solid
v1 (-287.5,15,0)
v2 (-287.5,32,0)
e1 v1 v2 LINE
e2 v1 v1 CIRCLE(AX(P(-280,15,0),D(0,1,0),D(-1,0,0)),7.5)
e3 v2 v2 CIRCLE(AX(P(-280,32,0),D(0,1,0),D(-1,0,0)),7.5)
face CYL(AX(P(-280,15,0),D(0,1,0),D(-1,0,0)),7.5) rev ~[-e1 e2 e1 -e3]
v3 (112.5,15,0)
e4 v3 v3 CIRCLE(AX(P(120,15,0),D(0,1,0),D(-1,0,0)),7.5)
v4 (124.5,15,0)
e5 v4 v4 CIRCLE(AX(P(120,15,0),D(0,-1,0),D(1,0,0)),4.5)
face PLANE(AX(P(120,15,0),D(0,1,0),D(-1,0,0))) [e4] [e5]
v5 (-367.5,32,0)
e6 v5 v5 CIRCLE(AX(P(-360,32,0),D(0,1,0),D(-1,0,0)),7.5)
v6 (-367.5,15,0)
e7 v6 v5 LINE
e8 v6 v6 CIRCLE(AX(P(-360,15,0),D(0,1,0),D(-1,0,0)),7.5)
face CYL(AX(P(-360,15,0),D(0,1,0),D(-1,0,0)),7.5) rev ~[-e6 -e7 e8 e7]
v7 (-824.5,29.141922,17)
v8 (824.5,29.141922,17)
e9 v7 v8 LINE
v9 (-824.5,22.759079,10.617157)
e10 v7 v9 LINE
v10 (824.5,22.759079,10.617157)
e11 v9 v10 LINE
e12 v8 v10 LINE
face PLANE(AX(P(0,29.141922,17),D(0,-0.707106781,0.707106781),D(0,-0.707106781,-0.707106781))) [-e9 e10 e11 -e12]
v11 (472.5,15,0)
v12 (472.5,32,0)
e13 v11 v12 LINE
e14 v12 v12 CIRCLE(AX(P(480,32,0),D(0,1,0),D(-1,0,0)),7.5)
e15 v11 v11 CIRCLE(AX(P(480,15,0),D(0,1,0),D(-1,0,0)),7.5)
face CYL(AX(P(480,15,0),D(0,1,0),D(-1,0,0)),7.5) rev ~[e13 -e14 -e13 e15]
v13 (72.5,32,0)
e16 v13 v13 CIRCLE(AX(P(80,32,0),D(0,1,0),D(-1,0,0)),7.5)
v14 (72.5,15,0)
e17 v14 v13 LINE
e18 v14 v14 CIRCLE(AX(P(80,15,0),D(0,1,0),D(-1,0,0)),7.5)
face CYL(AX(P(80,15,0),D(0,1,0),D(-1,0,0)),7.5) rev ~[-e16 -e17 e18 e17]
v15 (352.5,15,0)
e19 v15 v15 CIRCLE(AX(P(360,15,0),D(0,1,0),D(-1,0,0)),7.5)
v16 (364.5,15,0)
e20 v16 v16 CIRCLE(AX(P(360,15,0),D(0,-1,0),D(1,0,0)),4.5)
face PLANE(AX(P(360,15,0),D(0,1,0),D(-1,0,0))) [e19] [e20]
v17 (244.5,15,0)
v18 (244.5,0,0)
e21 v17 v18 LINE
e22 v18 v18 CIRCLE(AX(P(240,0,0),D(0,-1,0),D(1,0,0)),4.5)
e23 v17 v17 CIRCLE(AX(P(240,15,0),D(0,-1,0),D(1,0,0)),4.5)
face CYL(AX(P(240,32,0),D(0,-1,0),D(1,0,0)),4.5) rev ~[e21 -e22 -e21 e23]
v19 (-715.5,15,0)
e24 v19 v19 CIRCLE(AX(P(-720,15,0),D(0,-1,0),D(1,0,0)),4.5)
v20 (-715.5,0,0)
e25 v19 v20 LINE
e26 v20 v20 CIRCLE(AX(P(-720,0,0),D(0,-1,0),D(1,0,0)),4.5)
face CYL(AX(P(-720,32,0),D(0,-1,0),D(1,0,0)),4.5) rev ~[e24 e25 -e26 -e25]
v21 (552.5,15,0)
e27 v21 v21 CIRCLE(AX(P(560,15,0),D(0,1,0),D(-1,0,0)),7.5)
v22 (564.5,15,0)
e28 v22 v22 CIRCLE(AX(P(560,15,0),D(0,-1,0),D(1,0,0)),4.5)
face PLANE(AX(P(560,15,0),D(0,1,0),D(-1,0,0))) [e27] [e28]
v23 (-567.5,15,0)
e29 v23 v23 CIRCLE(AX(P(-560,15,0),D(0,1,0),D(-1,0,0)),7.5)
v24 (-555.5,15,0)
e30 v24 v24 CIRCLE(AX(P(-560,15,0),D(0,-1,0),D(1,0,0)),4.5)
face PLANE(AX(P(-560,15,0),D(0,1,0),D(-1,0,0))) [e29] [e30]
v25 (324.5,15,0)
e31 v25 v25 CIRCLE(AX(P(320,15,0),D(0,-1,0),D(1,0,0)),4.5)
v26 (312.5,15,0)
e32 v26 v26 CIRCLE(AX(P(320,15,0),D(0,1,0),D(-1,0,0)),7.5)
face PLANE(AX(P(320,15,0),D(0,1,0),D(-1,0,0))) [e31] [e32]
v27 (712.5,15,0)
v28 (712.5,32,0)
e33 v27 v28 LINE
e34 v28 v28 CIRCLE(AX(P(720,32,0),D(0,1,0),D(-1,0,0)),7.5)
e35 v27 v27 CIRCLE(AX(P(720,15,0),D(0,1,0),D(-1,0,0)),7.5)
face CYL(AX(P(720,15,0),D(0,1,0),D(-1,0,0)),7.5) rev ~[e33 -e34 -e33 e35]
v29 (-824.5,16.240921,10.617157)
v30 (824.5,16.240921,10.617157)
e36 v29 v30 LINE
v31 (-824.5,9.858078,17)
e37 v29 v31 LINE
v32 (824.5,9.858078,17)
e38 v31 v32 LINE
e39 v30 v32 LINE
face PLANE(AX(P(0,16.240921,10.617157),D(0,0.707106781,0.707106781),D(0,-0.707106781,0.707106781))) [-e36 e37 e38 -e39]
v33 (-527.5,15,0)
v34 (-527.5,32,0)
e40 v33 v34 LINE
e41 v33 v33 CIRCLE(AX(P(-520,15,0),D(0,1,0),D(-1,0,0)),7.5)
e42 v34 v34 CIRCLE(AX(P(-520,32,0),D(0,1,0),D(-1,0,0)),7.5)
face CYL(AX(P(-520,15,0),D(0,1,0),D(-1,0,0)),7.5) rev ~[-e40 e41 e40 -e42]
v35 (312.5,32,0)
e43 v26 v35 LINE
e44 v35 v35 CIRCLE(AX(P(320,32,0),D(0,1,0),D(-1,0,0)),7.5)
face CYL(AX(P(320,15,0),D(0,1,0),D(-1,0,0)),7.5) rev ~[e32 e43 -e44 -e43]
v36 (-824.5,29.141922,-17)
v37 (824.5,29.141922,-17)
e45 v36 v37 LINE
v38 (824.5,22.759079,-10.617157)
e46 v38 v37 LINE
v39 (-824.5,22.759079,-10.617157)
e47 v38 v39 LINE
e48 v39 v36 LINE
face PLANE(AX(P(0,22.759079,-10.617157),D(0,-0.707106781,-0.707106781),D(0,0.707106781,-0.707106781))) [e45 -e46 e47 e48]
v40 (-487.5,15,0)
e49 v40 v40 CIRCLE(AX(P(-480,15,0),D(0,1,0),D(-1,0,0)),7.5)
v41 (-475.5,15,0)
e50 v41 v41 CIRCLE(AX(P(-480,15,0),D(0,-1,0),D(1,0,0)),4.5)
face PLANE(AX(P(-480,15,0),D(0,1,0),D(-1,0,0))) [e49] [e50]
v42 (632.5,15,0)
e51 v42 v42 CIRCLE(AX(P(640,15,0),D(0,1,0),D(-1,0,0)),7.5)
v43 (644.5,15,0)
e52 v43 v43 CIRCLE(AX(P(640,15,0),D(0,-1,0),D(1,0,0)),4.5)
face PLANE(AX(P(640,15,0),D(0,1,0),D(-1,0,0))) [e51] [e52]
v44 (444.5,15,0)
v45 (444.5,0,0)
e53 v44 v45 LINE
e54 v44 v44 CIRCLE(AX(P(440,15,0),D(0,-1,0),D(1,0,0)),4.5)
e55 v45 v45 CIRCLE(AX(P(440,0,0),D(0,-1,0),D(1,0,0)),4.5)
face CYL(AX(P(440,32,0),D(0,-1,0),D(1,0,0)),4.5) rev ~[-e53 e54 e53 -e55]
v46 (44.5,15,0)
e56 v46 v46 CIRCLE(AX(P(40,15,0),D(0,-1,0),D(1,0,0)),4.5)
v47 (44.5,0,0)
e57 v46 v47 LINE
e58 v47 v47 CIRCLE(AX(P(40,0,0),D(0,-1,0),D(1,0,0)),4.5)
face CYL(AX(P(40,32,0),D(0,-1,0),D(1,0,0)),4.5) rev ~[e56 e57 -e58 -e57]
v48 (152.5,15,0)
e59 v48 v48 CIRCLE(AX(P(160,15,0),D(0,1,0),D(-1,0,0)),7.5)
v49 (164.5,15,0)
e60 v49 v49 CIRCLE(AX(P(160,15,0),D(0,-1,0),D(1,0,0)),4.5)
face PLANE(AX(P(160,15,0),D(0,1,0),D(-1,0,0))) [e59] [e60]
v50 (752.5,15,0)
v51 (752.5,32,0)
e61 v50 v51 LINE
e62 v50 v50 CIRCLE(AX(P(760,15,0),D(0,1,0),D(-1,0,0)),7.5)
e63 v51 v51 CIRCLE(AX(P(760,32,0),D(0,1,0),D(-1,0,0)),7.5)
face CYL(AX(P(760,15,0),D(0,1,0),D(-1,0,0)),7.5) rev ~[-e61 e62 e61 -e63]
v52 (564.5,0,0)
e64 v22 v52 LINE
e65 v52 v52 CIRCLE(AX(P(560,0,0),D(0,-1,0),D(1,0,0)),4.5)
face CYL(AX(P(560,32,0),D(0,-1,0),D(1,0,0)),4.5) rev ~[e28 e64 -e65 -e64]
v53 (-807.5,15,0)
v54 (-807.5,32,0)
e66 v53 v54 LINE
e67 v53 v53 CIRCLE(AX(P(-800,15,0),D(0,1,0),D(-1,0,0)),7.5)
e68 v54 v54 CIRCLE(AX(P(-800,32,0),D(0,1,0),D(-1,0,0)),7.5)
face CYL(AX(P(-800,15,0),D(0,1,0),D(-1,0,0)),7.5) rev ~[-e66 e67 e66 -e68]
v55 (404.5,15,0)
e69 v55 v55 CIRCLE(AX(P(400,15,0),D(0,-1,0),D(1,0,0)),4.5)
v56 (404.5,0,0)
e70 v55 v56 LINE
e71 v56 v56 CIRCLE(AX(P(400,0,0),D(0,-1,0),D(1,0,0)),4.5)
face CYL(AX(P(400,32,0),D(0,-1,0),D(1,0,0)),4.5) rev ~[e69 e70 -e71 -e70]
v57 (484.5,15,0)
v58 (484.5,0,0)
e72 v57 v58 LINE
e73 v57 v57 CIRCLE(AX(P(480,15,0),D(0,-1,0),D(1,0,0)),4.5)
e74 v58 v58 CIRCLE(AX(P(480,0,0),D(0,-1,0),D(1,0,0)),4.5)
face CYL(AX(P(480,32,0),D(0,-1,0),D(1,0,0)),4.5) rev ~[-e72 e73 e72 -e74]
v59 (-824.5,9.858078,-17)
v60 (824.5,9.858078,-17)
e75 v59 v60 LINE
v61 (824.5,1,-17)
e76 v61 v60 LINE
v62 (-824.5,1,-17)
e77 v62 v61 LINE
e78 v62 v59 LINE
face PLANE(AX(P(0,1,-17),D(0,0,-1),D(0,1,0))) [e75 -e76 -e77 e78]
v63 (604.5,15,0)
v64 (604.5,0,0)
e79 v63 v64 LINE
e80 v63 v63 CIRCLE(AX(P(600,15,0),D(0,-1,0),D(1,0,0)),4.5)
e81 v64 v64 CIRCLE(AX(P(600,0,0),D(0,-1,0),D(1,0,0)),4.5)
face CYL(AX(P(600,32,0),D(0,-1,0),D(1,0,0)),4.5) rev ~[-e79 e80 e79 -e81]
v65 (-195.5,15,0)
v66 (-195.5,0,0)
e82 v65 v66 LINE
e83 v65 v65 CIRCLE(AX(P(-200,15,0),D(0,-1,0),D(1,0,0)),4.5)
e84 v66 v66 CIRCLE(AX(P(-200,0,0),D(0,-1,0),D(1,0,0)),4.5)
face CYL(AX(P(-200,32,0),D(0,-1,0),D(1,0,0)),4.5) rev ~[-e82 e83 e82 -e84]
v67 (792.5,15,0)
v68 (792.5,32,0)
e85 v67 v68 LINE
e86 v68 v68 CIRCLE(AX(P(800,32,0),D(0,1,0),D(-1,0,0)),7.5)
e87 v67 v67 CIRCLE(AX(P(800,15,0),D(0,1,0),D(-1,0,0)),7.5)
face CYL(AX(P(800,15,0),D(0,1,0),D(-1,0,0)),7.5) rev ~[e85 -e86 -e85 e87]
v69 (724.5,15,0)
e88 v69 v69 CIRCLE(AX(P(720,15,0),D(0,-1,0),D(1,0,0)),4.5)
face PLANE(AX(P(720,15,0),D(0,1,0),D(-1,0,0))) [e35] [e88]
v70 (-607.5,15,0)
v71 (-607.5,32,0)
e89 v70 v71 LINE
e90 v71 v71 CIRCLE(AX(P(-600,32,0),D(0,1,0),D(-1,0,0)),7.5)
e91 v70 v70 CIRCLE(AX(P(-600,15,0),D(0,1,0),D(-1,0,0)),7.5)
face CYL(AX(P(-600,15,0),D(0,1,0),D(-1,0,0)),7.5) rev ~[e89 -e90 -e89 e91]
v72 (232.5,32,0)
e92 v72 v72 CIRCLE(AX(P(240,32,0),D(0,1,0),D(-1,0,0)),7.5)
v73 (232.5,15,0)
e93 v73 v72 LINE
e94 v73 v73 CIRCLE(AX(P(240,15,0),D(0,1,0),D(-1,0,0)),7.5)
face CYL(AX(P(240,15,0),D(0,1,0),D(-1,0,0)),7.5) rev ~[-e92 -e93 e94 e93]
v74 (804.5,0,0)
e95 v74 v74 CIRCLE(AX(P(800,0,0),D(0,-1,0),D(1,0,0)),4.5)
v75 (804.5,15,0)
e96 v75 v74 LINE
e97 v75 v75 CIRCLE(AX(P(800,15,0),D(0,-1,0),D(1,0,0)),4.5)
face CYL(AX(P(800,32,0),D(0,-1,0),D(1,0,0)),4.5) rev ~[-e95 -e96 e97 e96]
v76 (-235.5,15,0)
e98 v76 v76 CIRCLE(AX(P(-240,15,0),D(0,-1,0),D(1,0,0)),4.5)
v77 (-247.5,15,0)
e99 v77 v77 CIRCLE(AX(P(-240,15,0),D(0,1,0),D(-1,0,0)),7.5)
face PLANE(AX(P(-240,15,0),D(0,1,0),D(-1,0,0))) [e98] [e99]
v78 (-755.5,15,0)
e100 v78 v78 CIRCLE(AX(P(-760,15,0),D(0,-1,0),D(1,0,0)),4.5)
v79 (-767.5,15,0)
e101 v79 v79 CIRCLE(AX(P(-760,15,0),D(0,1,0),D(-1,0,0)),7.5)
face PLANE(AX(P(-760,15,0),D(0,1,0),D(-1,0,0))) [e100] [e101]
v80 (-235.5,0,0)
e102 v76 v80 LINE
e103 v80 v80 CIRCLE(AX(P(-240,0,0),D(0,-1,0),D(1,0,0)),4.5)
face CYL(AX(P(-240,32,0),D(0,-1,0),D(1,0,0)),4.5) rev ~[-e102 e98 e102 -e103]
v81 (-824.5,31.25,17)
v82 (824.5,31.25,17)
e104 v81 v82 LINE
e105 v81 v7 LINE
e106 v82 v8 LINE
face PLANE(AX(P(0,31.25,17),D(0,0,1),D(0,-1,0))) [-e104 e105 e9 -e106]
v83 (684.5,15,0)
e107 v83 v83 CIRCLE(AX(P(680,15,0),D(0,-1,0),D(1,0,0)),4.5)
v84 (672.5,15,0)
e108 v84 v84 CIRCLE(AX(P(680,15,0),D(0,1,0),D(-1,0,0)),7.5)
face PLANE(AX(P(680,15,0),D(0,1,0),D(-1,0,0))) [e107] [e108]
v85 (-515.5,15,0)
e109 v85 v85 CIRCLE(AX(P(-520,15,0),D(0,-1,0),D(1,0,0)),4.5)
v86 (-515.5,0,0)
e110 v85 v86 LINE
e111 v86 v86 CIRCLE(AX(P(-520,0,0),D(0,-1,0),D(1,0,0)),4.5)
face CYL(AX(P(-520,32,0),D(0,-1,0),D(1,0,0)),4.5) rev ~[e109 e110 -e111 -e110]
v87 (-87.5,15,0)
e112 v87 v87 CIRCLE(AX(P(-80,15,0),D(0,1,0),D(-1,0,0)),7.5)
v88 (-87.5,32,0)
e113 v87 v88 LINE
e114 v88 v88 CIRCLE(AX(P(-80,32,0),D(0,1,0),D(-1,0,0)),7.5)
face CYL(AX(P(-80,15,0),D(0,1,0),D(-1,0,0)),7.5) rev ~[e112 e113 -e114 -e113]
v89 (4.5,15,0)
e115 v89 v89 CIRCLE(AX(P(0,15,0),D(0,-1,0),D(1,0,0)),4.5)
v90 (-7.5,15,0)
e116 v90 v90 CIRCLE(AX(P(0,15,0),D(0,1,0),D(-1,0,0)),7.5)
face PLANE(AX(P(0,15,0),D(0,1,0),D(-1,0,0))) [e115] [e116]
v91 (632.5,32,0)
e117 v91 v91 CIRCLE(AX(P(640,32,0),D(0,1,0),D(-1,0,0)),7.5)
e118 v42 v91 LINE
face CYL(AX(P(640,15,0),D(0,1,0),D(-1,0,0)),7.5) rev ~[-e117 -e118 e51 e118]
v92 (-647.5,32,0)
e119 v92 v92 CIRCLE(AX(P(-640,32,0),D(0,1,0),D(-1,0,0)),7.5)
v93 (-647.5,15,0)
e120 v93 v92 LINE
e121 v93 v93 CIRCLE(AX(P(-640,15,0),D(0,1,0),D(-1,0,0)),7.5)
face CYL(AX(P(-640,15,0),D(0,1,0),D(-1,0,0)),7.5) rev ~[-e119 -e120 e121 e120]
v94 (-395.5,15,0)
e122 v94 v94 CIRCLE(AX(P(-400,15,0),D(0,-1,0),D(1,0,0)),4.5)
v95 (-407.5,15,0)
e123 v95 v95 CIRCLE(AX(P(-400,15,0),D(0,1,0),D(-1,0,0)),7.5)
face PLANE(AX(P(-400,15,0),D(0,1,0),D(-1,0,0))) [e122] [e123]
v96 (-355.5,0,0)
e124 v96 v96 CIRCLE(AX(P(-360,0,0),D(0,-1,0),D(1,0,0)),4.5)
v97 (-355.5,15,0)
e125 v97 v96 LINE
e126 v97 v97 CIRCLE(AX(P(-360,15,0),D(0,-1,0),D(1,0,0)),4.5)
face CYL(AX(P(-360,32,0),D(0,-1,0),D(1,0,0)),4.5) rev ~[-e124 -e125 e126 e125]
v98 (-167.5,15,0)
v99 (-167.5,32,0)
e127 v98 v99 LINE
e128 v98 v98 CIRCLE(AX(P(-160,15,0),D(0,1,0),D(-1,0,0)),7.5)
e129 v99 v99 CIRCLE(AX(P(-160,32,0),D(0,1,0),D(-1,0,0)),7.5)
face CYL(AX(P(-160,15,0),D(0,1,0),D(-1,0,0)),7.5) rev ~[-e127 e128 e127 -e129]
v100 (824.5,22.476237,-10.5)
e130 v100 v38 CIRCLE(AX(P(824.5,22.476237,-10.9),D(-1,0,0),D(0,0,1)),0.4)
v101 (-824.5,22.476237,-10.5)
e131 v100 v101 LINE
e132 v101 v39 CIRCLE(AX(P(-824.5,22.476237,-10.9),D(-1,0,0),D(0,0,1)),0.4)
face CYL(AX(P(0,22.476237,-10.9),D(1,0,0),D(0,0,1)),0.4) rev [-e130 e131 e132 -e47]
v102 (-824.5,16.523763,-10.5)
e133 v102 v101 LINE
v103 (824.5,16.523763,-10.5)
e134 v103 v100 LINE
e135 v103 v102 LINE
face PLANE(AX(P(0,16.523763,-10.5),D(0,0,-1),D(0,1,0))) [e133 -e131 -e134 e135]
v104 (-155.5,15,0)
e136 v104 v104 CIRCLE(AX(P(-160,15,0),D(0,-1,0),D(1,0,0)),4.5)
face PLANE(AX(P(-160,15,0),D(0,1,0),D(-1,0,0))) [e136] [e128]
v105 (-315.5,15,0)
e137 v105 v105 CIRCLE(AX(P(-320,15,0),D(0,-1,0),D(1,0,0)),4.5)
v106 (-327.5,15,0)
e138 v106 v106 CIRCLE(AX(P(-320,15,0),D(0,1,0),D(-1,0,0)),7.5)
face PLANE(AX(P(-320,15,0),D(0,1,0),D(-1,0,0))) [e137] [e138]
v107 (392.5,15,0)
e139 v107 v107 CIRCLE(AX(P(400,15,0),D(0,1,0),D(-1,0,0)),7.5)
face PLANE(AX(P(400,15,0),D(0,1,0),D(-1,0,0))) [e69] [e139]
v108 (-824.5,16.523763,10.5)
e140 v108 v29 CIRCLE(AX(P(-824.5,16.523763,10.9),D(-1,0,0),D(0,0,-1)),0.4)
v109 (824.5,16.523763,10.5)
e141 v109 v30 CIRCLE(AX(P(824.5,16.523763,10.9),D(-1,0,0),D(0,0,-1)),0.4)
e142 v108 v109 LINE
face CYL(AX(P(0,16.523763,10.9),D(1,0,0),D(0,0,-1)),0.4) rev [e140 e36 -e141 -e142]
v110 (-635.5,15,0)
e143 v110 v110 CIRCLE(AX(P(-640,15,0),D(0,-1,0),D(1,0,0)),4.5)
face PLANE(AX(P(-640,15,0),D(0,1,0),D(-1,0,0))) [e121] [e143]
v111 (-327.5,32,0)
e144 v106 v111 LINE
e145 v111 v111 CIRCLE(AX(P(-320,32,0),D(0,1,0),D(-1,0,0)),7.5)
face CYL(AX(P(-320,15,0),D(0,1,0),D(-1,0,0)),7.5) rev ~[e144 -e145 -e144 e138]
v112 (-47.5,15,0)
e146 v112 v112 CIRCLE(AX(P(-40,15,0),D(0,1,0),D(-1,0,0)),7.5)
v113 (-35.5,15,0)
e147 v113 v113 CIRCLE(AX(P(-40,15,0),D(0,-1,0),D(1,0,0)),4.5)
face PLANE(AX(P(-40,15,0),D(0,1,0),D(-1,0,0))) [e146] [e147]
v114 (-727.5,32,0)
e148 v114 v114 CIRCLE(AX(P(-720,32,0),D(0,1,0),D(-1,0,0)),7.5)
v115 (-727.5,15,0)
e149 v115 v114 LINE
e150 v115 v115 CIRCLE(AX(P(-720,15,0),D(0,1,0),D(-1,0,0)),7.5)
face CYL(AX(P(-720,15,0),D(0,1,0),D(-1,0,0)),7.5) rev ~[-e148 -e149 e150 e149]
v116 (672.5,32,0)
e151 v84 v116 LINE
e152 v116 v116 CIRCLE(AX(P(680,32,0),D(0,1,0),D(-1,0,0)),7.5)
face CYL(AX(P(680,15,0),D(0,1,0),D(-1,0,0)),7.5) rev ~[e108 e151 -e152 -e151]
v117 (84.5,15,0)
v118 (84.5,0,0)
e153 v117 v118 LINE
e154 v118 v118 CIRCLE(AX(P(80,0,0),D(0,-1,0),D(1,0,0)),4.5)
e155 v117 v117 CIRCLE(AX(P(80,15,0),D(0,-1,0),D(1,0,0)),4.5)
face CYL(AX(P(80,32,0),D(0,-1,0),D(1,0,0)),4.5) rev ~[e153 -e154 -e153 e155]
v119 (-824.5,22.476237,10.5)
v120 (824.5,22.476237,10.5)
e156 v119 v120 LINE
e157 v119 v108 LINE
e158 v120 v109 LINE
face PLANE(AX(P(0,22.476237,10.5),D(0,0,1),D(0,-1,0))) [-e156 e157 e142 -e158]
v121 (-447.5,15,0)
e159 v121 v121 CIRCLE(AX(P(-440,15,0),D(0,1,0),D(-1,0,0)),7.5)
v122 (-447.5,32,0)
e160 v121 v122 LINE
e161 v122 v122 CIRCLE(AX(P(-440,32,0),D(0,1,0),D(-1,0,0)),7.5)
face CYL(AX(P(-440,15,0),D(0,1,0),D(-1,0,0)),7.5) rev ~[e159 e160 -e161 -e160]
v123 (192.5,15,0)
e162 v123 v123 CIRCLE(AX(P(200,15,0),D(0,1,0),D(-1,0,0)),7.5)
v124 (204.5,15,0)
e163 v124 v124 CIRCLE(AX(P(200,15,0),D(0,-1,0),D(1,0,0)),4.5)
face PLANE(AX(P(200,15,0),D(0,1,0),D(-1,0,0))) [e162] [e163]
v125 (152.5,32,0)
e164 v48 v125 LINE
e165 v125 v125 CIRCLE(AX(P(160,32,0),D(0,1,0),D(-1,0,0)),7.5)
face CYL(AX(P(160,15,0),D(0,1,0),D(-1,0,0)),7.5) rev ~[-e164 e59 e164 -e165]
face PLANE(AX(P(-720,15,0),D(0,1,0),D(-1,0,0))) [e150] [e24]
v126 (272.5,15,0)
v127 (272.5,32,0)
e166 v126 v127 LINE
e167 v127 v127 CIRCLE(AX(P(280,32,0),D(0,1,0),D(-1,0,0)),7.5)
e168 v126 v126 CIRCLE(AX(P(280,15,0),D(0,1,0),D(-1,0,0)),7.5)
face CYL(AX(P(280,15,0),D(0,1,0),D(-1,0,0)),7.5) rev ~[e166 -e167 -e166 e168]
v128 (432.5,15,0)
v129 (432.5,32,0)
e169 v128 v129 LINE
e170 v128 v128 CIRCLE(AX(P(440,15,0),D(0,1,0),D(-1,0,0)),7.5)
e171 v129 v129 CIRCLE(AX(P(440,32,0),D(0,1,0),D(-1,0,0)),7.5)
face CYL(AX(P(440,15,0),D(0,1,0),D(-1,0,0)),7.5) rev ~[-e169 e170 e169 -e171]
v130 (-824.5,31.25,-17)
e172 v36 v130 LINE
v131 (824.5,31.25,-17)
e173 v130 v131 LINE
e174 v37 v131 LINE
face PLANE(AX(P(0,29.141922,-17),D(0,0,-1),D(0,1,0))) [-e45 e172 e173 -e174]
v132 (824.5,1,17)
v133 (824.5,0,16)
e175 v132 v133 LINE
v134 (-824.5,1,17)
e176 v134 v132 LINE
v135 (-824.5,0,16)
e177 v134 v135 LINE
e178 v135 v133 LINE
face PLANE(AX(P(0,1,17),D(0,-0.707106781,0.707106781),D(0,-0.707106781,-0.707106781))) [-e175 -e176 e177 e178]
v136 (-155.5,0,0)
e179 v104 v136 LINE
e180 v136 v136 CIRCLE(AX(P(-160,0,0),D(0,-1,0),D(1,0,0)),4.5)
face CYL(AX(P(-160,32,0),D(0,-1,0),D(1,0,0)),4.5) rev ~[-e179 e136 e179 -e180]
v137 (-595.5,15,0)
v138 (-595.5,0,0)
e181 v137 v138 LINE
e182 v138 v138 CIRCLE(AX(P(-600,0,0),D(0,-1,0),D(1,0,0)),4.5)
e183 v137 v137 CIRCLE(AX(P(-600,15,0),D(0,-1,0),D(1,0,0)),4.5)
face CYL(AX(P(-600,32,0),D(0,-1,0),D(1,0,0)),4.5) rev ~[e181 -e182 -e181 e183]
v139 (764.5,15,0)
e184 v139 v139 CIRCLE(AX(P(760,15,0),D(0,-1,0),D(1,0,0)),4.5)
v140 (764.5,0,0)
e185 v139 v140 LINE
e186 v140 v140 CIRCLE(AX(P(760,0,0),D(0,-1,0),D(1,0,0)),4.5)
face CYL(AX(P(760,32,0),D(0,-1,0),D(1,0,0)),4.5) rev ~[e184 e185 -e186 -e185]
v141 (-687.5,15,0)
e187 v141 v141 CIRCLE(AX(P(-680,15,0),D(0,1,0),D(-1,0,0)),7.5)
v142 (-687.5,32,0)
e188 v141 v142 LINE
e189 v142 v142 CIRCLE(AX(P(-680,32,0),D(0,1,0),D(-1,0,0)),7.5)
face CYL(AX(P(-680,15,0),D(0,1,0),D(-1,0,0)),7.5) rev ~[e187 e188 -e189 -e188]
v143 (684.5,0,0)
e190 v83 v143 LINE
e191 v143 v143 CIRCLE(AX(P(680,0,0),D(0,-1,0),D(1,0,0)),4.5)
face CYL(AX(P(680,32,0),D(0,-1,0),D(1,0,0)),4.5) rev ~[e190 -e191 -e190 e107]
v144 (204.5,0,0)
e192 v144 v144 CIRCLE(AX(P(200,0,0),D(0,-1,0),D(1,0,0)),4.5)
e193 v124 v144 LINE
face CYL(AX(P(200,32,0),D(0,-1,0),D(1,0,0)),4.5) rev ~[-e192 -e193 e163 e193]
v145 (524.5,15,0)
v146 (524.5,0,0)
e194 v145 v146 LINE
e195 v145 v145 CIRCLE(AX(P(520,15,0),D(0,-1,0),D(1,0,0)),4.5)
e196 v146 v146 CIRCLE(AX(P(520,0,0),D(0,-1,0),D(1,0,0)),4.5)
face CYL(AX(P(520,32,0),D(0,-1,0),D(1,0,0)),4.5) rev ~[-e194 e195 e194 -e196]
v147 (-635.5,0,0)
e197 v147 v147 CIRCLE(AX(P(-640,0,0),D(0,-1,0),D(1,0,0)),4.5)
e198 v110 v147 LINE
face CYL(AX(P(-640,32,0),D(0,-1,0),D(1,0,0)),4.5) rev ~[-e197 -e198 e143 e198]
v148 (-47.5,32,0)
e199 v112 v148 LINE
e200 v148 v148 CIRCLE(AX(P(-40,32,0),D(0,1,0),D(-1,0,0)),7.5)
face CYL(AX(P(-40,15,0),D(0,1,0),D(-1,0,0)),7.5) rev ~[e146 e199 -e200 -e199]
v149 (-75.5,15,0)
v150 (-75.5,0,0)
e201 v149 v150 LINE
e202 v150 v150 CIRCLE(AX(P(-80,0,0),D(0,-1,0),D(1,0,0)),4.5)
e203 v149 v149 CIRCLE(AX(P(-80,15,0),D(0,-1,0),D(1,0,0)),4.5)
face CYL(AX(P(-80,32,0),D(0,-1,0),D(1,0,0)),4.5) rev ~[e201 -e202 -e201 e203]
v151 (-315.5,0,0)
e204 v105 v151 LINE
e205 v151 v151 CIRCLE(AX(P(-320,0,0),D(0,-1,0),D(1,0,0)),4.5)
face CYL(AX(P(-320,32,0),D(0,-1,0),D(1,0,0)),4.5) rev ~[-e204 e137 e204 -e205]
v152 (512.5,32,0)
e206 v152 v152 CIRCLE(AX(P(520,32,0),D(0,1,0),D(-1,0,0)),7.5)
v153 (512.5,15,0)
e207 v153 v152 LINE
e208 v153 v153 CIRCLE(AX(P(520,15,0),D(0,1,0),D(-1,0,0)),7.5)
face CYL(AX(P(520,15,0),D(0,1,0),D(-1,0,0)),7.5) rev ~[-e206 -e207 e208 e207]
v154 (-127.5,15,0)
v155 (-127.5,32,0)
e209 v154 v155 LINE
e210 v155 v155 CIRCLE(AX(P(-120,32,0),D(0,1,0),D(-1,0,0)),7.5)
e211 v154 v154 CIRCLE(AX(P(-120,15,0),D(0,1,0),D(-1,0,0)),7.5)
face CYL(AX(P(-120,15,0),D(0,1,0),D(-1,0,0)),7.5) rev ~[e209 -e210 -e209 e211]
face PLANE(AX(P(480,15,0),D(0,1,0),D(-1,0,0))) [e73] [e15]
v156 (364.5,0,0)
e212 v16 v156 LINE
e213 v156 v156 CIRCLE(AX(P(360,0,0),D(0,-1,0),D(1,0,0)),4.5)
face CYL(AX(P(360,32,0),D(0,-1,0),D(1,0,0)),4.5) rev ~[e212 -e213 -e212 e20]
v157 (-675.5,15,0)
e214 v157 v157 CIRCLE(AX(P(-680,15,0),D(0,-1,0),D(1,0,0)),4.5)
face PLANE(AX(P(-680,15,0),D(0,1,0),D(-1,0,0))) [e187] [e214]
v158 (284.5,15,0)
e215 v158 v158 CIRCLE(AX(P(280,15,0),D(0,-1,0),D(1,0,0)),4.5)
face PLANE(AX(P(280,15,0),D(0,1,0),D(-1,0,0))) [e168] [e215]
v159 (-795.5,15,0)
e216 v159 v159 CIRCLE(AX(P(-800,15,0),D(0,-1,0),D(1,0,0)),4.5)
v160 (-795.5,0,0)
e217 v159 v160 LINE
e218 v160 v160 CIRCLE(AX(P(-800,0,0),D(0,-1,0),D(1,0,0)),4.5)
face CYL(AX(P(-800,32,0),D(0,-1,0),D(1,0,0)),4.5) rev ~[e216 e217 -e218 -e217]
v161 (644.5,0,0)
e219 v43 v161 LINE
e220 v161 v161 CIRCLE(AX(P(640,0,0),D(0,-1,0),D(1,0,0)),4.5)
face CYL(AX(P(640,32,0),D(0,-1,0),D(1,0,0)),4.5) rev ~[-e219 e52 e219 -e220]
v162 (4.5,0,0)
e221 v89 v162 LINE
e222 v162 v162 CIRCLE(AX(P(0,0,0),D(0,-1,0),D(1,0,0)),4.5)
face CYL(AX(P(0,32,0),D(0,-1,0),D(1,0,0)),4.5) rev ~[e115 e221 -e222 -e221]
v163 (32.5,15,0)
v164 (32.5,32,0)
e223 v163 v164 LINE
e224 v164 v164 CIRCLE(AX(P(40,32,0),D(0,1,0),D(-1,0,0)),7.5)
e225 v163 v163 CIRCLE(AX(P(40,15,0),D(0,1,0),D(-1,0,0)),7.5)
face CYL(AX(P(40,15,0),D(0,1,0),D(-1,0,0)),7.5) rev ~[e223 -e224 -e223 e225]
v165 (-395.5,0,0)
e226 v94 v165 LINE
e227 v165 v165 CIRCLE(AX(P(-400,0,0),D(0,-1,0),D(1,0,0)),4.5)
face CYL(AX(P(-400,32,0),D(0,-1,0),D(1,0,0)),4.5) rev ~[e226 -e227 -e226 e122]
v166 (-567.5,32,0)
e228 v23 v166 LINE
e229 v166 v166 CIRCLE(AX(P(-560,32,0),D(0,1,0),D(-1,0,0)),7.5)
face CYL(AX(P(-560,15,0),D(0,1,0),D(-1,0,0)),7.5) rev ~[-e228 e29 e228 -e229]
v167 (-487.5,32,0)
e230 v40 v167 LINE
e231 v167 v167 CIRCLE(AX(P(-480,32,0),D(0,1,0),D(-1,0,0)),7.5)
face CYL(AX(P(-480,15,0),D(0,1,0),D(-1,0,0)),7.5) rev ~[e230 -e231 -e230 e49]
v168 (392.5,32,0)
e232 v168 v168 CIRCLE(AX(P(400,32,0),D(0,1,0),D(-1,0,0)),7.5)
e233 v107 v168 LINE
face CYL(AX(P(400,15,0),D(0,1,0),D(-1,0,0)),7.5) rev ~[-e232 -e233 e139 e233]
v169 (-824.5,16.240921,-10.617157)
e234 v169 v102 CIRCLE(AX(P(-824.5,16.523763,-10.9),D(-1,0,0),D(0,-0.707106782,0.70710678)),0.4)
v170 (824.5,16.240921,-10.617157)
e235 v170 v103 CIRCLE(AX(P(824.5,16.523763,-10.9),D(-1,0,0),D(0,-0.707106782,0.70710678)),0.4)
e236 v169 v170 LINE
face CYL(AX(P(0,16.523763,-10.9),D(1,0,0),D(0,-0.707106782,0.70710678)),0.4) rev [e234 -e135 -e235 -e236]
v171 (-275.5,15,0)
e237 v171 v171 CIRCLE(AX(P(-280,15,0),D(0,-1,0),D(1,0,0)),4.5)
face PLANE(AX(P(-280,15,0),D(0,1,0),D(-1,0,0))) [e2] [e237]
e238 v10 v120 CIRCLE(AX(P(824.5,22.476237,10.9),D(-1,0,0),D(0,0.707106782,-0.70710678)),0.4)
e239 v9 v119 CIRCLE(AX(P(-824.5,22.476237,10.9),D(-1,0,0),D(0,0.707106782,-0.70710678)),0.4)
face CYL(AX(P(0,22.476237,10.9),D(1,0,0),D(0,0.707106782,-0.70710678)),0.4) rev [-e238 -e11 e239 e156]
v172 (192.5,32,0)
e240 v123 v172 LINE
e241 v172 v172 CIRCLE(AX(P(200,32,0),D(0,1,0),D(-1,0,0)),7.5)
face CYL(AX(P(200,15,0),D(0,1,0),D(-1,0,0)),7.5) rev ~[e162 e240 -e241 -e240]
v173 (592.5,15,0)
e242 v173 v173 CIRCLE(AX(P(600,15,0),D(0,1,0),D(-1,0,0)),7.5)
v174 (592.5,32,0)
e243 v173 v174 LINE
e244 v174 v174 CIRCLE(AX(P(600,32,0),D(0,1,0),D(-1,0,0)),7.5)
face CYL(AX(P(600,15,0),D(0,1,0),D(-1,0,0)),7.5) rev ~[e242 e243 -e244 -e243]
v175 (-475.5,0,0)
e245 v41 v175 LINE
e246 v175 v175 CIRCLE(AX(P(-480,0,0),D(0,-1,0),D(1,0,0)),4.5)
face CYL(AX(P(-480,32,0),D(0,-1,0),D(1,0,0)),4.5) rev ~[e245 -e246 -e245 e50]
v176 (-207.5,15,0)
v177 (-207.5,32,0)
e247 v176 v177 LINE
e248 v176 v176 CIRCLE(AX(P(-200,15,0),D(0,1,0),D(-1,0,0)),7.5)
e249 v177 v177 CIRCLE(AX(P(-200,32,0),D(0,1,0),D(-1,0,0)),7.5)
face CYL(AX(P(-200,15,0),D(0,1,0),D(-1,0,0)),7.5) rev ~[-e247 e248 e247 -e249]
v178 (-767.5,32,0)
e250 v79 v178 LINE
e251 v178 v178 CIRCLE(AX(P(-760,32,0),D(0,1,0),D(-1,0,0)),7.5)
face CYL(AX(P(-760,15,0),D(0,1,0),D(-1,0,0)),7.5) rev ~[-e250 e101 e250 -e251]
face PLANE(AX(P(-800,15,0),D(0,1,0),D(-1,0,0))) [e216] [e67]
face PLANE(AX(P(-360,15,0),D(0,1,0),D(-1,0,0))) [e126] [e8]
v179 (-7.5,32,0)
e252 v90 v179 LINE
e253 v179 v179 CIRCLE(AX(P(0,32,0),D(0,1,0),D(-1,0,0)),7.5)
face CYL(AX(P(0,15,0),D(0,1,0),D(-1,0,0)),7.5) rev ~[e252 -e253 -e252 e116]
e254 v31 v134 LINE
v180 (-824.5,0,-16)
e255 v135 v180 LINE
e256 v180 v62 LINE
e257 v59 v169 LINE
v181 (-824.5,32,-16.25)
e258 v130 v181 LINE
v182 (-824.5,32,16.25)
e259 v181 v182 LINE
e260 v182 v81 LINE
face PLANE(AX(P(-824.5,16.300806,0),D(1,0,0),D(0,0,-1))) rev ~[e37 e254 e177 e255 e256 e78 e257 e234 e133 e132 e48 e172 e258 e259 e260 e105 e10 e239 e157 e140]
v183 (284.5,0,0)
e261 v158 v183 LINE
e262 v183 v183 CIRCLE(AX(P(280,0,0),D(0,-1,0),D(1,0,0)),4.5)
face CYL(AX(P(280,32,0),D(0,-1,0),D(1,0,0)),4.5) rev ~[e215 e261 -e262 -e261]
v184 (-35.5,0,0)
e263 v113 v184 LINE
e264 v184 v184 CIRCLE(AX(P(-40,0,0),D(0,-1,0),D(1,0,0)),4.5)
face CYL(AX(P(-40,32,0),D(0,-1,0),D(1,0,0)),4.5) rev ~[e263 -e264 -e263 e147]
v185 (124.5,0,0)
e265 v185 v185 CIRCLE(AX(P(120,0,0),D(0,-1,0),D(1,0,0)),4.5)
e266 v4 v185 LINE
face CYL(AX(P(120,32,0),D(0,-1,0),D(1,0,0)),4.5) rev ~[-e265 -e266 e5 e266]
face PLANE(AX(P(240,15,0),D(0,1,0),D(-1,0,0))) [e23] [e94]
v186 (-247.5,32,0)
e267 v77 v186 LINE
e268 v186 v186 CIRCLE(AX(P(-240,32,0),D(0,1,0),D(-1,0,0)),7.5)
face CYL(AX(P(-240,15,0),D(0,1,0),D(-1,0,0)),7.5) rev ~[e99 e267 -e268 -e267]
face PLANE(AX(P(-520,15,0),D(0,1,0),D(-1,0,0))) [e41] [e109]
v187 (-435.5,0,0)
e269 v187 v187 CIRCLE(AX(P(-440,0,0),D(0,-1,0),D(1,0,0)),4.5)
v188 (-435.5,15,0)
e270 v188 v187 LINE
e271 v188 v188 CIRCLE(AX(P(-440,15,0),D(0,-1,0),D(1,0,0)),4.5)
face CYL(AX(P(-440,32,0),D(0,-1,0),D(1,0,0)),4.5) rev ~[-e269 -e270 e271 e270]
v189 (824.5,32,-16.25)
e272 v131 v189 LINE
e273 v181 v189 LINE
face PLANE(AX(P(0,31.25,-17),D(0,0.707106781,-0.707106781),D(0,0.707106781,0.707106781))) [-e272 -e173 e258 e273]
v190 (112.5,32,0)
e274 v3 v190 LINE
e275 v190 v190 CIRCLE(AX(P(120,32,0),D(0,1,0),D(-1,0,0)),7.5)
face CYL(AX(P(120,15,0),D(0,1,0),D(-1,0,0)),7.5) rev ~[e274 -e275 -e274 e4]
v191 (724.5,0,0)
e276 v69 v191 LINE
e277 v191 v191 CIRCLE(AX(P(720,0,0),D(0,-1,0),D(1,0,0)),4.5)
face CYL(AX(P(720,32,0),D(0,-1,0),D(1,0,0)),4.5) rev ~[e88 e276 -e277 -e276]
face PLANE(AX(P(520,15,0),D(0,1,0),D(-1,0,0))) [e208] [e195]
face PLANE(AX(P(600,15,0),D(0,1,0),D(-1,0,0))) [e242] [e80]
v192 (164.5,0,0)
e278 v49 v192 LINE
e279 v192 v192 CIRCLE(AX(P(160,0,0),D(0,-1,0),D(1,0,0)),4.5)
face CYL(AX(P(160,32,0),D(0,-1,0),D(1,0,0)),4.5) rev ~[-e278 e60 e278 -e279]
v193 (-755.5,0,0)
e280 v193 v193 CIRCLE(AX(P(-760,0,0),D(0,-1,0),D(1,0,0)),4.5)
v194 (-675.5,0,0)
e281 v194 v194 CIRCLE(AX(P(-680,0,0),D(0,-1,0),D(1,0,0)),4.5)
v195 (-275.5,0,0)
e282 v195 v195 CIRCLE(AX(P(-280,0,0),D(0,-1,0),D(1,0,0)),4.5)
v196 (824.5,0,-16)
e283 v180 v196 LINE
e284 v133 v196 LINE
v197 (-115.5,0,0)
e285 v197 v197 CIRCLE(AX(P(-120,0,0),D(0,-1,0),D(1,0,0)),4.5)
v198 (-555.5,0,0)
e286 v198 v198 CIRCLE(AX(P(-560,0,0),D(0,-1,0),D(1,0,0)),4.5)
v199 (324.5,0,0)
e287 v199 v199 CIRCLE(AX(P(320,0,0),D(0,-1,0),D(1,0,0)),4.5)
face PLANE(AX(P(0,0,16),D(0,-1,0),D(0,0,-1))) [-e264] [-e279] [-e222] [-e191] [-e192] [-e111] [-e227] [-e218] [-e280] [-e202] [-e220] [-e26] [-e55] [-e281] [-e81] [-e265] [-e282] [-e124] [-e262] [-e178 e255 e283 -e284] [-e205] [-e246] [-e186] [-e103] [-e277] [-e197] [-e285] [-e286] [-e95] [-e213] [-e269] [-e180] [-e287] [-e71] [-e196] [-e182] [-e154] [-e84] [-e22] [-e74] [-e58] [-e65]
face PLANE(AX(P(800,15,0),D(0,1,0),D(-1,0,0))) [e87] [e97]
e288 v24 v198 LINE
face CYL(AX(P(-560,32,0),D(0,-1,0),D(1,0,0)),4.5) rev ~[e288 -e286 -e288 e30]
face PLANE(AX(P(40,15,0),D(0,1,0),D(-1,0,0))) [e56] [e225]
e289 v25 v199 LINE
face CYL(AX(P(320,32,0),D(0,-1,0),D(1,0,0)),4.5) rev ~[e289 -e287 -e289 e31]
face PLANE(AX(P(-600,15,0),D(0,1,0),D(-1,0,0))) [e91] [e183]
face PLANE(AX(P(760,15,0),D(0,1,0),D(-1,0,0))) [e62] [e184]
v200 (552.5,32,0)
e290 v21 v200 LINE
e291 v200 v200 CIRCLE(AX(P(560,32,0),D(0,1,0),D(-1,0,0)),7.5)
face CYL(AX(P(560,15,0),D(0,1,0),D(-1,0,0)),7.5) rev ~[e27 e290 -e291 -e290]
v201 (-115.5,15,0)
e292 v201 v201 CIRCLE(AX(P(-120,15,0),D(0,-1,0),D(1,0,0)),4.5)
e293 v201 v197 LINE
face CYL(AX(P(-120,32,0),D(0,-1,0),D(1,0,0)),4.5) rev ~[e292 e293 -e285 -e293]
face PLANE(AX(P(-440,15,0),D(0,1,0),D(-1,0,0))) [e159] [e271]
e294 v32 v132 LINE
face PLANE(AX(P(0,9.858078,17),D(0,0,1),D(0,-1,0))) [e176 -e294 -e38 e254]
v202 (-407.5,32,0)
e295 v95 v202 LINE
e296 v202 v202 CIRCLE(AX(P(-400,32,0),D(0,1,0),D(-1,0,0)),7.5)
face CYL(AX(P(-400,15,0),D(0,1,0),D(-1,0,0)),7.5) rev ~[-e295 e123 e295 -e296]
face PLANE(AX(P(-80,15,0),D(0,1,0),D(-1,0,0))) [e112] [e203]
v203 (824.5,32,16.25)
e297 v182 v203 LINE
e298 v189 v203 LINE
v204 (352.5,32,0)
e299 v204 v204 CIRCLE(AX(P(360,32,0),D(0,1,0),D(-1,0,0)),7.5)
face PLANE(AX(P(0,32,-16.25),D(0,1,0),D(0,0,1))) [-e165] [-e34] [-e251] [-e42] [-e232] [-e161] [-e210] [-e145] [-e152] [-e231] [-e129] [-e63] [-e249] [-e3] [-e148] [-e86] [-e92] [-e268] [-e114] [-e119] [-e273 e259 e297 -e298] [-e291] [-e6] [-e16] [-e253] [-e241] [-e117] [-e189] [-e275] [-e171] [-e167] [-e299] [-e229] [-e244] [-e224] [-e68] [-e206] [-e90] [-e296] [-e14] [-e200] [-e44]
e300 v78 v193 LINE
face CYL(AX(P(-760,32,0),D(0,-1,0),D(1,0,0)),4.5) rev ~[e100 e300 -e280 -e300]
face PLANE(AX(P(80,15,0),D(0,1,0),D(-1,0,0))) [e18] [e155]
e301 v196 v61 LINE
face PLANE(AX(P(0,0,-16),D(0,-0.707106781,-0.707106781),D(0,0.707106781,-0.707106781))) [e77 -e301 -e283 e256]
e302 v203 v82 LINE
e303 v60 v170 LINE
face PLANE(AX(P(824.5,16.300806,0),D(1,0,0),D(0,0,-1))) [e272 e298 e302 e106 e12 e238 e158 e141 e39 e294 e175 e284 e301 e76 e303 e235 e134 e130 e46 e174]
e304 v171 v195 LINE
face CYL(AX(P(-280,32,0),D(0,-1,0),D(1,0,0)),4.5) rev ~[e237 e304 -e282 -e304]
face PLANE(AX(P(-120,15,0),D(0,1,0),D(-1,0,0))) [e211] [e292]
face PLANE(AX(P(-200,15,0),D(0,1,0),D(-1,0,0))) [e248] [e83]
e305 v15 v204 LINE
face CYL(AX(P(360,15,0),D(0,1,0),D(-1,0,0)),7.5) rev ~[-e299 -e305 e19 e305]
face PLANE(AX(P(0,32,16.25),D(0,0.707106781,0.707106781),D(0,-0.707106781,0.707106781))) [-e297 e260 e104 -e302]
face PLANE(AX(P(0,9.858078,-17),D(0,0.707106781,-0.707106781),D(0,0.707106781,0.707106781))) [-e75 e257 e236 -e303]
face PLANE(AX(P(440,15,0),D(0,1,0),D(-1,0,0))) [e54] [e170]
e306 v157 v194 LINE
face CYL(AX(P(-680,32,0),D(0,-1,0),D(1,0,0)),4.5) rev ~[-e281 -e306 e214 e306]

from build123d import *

# Parameters (mm, degrees)
BOSS_EXTRUDE2_DEPTH            = 824.5
CBORE_FOR_M8_SHCS1_D           = 9
CBORE_FOR_M8_SHCS1_CBORE_D     = 15
CBORE_FOR_M8_SHCS1_CBORE_DEPTH = 17
LPATTERN1_COUNT                = 41
LPATTERN1_PITCH                = 40


with BuildPart() as part:
    # Sketch2 → Boss-Extrude2 (new, symmetric)
    with BuildSketch(Plane(origin=(0, 0, 0), x_dir=(0, 0, -1), z_dir=(1, 0, 0))):
        with BuildLine():
            Line((10.617157288, 22.759079349), (17, 29.141922061))
            Line((17, 29.141922061), (17, 31.25))
            Line((17, 31.25), (16.25, 32))
            Line((16.25, 32), (-16.25, 32))
            Line((-16.25, 32), (-17, 31.25))
            Line((-17, 31.25), (-17, 29.141922061))
            Line((-17, 29.141922061), (-10.617157288, 22.759079349))
            ThreePointArc((-10.617157288, 22.759079349), (-10.530448187, 22.629310009), (-10.5, 22.476236636))
            Line((-10.5, 22.476236636), (-10.5, 16.523763364))
            ThreePointArc((-10.5, 16.523763364), (-10.530448187, 16.370689991), (-10.617157288, 16.240920651))
            Line((-10.617157288, 16.240920651), (-17, 9.858077939))
            Line((-17, 9.858077939), (-17, 1))
            Line((-17, 1), (-16, 0))
            Line((-16, 0), (16, 0))
            Line((16, 0), (17, 1))
            Line((17, 1), (17, 9.858077939))
            Line((17, 9.858077939), (10.617157288, 16.240920651))
            ThreePointArc((10.617157288, 16.240920651), (10.530448187, 16.370689991), (10.5, 16.523763364))
            Line((10.5, 16.523763364), (10.5, 22.476236636))
            ThreePointArc((10.5, 22.476236636), (10.530448187, 22.629310009), (10.617157288, 22.759079349))
        make_face()
    extrude(amount=BOSS_EXTRUDE2_DEPTH, both=True)

    # CBORE for M8 SHCS1 (through all)
    with Locations(Plane(origin=(0, 32, 0), x_dir=(-1, 0, 0), z_dir=(0, 1, 0))):
        with Locations((-800, 0)):
            cbore_for_m8_shcs1 = CounterBoreHole(CBORE_FOR_M8_SHCS1_D / 2, CBORE_FOR_M8_SHCS1_CBORE_D / 2, CBORE_FOR_M8_SHCS1_CBORE_DEPTH)

    # LPattern1: CBORE for M8 SHCS1 ×41
    with Locations(*[(-i * LPATTERN1_PITCH, 0, 0) for i in range(1, LPATTERN1_COUNT)]):
        add(cbore_for_m8_shcs1, mode=Mode.SUBTRACT)


solid = part.part
